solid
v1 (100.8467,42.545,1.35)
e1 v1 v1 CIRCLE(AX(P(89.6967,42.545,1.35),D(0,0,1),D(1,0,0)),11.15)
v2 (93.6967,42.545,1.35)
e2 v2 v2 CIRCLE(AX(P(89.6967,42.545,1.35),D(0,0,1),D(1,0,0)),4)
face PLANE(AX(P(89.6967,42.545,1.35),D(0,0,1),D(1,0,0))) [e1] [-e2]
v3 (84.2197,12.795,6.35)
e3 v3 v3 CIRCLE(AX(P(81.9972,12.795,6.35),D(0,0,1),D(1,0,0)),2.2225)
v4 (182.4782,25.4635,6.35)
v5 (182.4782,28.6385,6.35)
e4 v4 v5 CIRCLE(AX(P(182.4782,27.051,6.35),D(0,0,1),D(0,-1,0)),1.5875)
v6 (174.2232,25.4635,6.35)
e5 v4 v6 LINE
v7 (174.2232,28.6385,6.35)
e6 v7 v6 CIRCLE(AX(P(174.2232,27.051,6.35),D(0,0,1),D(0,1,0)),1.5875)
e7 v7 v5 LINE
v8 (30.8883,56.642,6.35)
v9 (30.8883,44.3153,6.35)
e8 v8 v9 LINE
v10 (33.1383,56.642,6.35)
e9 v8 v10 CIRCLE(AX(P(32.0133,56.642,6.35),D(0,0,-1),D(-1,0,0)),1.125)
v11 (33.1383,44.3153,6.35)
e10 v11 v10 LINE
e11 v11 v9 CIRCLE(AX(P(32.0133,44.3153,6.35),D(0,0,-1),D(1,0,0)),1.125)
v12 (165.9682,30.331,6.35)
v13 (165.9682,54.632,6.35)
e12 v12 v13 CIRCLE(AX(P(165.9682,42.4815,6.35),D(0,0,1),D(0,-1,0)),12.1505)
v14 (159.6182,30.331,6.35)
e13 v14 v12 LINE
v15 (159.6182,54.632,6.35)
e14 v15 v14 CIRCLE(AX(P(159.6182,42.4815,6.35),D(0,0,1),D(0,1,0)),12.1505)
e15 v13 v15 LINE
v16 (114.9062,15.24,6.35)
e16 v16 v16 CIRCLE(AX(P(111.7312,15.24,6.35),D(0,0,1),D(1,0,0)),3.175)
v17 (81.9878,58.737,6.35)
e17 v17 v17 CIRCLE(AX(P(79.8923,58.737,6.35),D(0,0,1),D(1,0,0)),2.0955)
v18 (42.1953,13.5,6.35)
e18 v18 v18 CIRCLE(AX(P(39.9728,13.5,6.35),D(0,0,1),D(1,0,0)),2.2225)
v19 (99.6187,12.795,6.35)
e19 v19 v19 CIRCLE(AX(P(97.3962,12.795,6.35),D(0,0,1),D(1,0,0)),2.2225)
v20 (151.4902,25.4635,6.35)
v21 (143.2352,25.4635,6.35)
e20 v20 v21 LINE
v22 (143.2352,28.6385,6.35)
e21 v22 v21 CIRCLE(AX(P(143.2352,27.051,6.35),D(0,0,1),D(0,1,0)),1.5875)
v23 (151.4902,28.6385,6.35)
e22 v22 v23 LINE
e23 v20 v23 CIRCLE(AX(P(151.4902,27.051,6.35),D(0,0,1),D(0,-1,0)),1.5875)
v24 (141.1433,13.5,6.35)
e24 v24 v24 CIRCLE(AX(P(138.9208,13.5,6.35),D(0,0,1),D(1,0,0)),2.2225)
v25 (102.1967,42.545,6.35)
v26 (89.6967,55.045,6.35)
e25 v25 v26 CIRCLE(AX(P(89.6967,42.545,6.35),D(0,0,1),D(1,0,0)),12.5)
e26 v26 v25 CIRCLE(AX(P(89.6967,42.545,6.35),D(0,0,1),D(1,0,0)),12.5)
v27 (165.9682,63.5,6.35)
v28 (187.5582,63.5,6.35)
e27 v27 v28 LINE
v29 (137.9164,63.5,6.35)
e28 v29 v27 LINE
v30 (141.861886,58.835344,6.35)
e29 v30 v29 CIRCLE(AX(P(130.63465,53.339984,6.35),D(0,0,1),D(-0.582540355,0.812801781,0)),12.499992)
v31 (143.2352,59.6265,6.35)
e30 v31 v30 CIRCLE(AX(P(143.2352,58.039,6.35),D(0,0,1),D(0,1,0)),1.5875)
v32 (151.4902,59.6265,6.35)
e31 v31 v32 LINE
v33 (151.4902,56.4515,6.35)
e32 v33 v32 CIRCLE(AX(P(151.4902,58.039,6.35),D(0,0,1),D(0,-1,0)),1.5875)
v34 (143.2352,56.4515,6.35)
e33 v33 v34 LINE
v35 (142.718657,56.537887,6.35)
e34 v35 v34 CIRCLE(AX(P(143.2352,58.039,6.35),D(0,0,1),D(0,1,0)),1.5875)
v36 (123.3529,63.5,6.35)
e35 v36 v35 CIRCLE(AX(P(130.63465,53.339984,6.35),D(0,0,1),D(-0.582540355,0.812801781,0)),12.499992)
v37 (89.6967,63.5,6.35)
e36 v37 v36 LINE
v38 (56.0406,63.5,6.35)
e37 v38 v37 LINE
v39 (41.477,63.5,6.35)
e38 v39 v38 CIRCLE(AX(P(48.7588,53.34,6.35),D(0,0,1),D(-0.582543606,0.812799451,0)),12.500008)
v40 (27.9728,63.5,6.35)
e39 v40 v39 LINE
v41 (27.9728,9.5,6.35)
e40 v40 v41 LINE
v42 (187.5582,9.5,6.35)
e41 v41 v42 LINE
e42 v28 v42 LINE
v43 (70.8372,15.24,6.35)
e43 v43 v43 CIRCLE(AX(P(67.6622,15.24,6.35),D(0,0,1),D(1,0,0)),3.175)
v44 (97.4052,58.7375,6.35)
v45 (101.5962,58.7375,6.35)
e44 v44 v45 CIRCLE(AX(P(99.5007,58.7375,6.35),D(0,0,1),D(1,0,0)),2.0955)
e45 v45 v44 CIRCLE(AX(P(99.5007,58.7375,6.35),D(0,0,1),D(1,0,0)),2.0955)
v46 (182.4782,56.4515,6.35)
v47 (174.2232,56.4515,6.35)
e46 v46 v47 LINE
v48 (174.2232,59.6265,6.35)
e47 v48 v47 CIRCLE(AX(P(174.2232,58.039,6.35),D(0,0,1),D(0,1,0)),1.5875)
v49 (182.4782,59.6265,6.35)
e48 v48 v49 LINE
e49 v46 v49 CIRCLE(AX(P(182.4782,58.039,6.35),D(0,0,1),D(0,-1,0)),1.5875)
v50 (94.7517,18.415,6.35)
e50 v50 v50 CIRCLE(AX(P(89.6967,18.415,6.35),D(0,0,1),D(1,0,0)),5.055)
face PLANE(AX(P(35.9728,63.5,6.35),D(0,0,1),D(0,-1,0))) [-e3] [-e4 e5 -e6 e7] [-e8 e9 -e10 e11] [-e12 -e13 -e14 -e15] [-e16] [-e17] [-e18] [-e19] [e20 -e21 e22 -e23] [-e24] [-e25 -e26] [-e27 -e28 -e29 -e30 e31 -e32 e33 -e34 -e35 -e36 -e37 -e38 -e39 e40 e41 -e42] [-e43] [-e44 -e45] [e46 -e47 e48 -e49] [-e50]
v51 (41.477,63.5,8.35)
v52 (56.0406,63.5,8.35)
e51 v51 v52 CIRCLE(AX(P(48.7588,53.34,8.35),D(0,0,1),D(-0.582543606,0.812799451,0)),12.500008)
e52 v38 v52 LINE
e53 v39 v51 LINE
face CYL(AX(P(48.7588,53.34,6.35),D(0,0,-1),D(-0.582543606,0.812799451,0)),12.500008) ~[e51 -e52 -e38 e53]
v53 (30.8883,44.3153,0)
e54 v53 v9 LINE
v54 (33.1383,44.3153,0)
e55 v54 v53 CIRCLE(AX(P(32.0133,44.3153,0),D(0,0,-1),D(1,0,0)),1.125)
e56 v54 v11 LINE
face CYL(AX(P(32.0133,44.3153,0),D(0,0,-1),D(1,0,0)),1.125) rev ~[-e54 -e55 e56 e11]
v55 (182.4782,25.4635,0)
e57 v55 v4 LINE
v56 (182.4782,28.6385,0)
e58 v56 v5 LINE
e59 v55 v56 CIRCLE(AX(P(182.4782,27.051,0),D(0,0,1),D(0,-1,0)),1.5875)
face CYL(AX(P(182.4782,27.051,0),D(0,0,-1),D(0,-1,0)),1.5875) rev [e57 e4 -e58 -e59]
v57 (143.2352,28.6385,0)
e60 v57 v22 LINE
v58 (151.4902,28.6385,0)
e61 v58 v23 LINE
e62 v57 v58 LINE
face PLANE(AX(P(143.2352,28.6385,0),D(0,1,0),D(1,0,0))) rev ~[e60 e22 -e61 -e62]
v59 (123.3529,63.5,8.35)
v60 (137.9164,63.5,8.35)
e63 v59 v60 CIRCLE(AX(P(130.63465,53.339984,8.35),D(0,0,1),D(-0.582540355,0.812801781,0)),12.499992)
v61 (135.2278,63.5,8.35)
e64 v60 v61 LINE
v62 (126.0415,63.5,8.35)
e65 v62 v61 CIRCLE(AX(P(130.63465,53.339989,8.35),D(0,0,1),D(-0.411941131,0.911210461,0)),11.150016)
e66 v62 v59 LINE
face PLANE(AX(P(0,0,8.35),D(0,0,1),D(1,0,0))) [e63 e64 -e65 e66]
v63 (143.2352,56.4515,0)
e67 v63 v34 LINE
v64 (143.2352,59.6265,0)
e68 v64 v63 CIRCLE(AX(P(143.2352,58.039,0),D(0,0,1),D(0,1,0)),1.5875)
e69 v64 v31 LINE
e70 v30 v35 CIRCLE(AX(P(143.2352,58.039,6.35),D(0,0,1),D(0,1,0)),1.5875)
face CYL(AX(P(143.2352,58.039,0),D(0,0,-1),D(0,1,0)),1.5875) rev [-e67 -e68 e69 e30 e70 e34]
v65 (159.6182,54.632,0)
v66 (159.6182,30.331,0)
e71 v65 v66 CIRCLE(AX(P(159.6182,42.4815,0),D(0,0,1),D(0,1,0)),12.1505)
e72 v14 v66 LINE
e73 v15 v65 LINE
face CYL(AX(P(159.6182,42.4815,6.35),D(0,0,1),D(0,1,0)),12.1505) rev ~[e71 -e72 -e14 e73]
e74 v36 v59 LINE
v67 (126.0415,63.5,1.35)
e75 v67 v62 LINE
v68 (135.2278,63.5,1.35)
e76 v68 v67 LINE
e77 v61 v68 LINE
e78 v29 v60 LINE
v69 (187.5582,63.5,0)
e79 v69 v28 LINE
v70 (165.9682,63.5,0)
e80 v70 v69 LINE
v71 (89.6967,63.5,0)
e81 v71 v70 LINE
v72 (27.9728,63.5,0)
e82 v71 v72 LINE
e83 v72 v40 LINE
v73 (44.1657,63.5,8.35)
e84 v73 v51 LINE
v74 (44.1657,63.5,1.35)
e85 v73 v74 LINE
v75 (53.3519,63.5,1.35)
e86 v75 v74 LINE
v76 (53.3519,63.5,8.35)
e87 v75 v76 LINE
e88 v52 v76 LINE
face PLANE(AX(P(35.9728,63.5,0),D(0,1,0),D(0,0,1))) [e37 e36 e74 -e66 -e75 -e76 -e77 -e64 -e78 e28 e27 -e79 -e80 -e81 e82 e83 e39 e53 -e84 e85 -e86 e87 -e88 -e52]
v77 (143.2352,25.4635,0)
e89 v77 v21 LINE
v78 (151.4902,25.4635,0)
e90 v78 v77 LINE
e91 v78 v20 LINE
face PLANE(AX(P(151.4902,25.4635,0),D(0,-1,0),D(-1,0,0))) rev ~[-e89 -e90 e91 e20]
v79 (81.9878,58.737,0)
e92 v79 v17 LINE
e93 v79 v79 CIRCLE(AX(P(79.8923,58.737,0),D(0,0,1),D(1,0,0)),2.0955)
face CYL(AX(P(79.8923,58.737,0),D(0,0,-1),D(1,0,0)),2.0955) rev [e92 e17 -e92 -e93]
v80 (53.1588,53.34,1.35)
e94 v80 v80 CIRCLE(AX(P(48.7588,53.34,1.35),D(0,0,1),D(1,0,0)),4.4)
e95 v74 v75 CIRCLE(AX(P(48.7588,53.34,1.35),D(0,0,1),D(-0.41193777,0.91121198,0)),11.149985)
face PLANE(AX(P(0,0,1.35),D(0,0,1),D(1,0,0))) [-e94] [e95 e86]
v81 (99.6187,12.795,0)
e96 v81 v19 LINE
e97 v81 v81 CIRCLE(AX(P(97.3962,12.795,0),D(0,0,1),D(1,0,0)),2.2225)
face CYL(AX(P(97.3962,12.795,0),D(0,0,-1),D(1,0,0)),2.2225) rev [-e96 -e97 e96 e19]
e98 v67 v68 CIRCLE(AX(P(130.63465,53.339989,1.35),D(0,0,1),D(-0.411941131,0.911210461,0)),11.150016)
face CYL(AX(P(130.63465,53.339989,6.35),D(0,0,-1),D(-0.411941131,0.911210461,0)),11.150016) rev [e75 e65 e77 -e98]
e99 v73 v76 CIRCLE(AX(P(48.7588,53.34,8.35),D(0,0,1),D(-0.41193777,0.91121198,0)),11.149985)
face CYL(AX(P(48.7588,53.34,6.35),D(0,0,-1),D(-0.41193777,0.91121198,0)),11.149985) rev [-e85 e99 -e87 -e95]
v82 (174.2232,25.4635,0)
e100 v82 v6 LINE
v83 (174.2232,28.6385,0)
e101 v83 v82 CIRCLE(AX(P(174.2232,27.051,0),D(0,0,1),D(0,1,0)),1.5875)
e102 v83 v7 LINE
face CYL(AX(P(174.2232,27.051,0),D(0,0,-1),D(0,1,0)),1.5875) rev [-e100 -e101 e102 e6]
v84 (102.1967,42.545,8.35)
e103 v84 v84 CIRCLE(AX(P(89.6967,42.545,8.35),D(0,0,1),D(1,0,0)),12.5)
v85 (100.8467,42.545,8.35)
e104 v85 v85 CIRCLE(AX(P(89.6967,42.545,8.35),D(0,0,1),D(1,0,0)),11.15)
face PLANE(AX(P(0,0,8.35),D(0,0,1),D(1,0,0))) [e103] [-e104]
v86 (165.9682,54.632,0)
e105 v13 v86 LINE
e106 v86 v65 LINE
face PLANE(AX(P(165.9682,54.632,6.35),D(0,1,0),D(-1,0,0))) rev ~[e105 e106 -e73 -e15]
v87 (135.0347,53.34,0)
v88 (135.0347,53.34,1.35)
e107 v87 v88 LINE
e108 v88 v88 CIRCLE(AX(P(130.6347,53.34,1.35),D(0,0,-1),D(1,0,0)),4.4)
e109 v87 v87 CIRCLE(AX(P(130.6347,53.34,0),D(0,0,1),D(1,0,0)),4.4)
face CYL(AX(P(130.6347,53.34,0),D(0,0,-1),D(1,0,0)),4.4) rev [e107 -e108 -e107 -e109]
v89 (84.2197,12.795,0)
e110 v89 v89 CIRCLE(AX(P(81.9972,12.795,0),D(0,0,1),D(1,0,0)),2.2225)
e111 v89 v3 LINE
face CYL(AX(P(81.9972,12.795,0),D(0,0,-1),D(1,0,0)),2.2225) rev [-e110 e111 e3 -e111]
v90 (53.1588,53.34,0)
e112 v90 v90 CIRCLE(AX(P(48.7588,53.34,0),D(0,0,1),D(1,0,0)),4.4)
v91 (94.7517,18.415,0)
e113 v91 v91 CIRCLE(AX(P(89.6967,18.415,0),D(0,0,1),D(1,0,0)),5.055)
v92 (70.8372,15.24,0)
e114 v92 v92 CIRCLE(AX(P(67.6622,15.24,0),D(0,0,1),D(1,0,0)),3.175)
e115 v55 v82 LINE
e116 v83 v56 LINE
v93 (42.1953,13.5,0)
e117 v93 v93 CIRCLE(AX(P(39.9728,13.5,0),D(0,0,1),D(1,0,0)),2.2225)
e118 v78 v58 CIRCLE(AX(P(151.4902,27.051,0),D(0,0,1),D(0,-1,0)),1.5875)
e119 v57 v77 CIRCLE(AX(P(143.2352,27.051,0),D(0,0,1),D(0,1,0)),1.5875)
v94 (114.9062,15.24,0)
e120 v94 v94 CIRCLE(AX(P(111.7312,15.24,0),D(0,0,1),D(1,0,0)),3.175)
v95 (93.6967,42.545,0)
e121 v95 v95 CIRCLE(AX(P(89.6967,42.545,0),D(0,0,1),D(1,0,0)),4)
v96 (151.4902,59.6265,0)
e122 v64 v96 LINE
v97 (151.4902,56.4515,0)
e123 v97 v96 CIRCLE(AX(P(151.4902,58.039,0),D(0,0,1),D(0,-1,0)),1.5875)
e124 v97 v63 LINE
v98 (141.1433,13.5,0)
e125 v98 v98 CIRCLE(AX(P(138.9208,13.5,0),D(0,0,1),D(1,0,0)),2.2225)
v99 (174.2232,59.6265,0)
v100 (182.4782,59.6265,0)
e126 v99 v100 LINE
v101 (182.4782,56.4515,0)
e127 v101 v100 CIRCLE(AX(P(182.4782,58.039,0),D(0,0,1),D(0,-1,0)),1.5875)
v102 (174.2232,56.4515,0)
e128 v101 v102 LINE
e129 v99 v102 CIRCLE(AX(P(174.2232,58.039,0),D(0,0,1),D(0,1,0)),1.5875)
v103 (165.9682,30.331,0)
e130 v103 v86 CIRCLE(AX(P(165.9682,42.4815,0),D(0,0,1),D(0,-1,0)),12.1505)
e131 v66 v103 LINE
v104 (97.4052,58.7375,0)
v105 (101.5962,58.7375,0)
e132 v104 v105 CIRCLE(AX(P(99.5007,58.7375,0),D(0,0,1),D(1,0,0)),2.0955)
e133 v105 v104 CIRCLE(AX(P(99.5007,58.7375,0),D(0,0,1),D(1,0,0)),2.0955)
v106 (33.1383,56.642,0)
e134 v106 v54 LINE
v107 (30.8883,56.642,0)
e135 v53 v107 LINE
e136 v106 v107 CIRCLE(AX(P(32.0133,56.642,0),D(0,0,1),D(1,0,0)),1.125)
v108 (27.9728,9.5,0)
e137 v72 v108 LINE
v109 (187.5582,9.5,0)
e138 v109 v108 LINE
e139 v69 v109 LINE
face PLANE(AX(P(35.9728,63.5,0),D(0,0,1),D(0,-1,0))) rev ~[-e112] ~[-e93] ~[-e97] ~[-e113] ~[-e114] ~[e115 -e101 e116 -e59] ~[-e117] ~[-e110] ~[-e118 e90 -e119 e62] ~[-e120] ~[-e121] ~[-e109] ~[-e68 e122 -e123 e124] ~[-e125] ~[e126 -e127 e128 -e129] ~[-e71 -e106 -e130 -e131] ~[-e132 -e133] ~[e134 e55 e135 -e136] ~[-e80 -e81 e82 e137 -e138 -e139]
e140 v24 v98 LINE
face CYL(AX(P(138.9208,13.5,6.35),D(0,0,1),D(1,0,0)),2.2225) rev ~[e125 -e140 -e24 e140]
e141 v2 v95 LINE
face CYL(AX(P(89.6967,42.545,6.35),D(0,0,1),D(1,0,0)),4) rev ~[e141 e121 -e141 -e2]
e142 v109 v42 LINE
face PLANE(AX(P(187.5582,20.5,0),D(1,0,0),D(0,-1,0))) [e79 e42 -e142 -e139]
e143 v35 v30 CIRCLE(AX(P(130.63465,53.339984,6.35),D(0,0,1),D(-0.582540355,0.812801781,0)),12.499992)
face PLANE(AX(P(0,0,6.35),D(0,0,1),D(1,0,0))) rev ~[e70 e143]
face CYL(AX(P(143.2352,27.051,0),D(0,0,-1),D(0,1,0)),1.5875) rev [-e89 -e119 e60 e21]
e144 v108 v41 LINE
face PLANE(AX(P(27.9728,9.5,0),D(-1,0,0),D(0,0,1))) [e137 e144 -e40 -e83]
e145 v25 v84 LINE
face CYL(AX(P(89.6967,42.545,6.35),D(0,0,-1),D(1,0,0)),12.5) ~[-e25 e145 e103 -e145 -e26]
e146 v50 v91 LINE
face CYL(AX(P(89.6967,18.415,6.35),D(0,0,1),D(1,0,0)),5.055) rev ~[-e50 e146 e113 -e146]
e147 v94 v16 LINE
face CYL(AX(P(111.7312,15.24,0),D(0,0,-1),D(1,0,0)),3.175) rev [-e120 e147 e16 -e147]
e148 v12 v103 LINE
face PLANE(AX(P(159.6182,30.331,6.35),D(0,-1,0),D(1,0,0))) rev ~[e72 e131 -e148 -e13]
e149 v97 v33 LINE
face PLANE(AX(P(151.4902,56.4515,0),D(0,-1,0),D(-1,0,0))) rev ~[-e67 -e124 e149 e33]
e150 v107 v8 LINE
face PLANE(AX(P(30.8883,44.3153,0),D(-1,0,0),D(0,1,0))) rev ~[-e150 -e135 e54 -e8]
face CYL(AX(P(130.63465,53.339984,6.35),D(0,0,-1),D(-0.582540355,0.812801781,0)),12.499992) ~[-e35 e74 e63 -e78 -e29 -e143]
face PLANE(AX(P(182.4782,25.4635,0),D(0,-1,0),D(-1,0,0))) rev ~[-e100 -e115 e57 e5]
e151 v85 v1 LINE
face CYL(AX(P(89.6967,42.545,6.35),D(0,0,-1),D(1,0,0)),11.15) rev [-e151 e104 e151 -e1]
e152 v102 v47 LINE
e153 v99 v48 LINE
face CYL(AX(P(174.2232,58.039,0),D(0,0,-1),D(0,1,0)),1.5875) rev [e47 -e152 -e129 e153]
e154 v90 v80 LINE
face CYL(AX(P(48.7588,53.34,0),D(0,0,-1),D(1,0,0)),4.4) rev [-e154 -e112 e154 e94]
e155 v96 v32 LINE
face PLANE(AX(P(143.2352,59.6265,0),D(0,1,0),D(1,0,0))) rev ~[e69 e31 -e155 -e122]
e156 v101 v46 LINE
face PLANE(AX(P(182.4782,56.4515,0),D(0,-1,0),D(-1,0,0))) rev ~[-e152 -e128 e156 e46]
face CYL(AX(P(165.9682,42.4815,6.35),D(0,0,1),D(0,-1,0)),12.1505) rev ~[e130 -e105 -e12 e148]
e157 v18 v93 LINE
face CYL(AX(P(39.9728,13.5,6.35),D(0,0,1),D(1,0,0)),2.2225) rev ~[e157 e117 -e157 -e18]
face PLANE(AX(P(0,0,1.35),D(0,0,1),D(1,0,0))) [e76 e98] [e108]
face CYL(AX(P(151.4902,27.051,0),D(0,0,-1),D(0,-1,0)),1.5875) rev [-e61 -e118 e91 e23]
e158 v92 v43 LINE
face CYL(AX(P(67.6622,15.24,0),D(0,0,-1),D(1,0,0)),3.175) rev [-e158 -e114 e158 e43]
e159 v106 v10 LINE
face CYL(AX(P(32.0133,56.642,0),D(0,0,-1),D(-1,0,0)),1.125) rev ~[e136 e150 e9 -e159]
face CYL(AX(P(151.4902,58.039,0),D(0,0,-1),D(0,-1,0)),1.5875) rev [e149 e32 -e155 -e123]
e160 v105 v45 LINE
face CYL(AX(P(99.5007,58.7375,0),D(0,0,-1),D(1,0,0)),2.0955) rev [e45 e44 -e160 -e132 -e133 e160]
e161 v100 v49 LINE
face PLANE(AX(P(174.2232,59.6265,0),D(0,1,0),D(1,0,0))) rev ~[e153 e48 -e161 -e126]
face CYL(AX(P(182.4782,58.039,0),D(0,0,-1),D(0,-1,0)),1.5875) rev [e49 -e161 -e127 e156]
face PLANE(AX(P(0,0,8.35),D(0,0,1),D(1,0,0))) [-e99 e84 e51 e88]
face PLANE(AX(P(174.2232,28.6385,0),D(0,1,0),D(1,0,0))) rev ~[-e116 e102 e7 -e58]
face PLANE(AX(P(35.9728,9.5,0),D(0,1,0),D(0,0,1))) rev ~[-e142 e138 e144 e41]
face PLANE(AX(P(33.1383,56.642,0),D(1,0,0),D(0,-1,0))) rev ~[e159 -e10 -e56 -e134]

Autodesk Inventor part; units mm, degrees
ref_plane "YZ Plane" through (0, 0, 0) normal (1, 0, 0) x (0, 1, 0)
ref_plane "XZ Plane" through (0, 0, 0) normal (0, 1, 0) x (-1, 0, 0)
ref_plane "XY Plane" through (0, 0, 0) normal (0, 0, 1) x (1, 0, 0)
sketch "Sketch1" plane through (0, 0, 0) normal (0, 0, 1) x (1, 0, 0)
  line L0 (187.5582, 20.5) -> (187.5582, 63.5)
  circle A0 centre (99.5007, 58.7375) radius 2.0955
  line L1 (174.2232, 59.6265) -> (182.4782, 59.6265)
  arc A1 (182.4782, 56.4515) -> (182.4782, 59.6265) centre (182.4782, 58.039) ccw
  line L2 (182.4782, 56.4515) -> (174.2232, 56.4515)
  arc A2 (174.2232, 59.6265) -> (174.2232, 56.4515) centre (174.2232, 58.039) ccw
  line L3 (143.2352, 59.6265) -> (151.4902, 59.6265)
  arc A3 (151.4902, 56.4515) -> (151.4902, 59.6265) centre (151.4902, 58.039) ccw
  line L4 (151.4902, 56.4515) -> (143.2352, 56.4515)
  arc A4 (143.2352, 59.6265) -> (143.2352, 56.4515) centre (143.2352, 58.039) ccw
  circle A5 centre (130.6347, 53.34) radius 4.4
  line L5 (143.2352, 28.6385) -> (151.4902, 28.6385)
  arc A6 (151.4902, 25.4635) -> (151.4902, 28.6385) centre (151.4902, 27.051) ccw
  line L6 (151.4902, 25.4635) -> (143.2352, 25.4635)
  arc A7 (143.2352, 28.6385) -> (143.2352, 25.4635) centre (143.2352, 27.051) ccw
  line L7 (174.2232, 28.6385) -> (182.4782, 28.6385)
  arc A8 (182.4782, 25.4635) -> (182.4782, 28.6385) centre (182.4782, 27.051) ccw
  line L8 (182.4782, 25.4635) -> (174.2232, 25.4635)
  arc A9 (174.2232, 28.6385) -> (174.2232, 25.4635) centre (174.2232, 27.051) ccw
  line L9 (187.5582, 63.5) -> (187.5582, 20.5)
  line L10 (89.6967, 42.545) -> (89.6967, 25.4635)
  circle A10 centre (48.7588, 53.34) radius 4.4
  circle A11 centre (79.8923, 58.737) radius 2.0955
  line L11 (35.9728, 63.5) -> (187.5582, 63.5)
  line L12 (187.5582, 63.5) -> (187.5582, 20.5)
  line L13 (35.9728, 63.5) -> (187.5582, 63.5)
  line L14 (187.5582, 63.5) -> (187.5582, 20.5)
  line L15 (187.5582, 63.5) -> (35.9728, 63.5)
  line L16 (187.5582, 20.5) -> (187.5582, 63.5)
  line L17 (35.9728, 63.5) -> (187.5582, 63.5)
  line L18 (187.5582, 63.5) -> (187.5582, 20.5)
  line L19 (187.5582, 20.5) -> (187.5582, 14.5)
  line L20 (35.9728, 14.5) -> (35.9728, 63.5)
  line L21 (38.7587, 53.34) -> (48.7587, 53.34)
  line L22 (84.6967, 42.545) -> (89.6967, 42.545)
  circle A12 centre (111.7312, 15.24) radius 3.175
  circle A13 centre (97.3962, 12.795) radius 2.2225
  circle A14 centre (81.9972, 12.795) radius 2.2225
  circle A15 centre (67.6622, 15.24) radius 3.175
  circle A16 centre (89.6967, 42.545) radius 4.4
  line L23 (67.6622, 15.24) -> (67.2997, 15.6892)
  line L24 (77.8053, 9.5347) -> (89.6967, 9.5347) construction
  line L25 (111.7312, 15.24) -> (118.0474, 15.24) construction
  line L26 (35.9728, 14.5) -> (35.9728, 9.5)
  line L27 (35.9728, 9.5) -> (187.5582, 9.5)
  line L28 (187.5582, 9.5) -> (187.5582, 14.5)
  circle A17 centre (67.6622, 15.24) radius 3.175
  circle A18 centre (81.9972, 12.795) radius 2.2225
  circle A19 centre (97.3962, 12.795) radius 2.2225
  circle A20 centre (111.7312, 15.24) radius 3.175
  line L29 (165.9682, 54.632) -> (159.6182, 54.632)
  arc A21 (159.6182, 54.632) -> (159.6182, 30.331) centre (159.6182, 42.4815) ccw
  line L30 (159.6182, 30.331) -> (165.9682, 30.331)
  arc A22 (165.9682, 30.331) -> (165.9682, 54.632) centre (165.9682, 42.4815) ccw
  line L31 (80.9972, 12.795) -> (81.9972, 12.795)
  line L32 (98.3962, 12.795) -> (97.3962, 12.795)
  line L33 (76.0442, 58.7375) -> (78.0442, 58.7375)
  line L34 (103.3492, 58.7375) -> (101.3492, 58.7375)
  line L35 (89.6967, 42.545) -> (89.6967, 65.1685)
  line L36 (101.3492, 58.7375) -> (89.6967, 58.7375)
  line L37 (89.6967, 58.7375) -> (79.8923, 58.7375)
  line L38 (165.9682, 42.4815) -> (165.9682, 63.5)
  line L39 (165.9682, 63.5) -> (187.5582, 63.5)
  point P0 (0, 0)
  point P1 (85.6114, 40.9109)
  point P2 (85.5414, 41.0981)
  point P3 (85.3648, 41.7735)
  point P4 (85.4268, 41.4827)
  point P5 (85.6337, 40.856)
  point P6 (85.6114, 44.1791)
  dimension "d4" = 8.8
  dimension "d55" = 10.16
  dimension "d56" = 10.16
  dimension "d57" = 4.7625
  dimension "d58" = 4.763
  dimension "d59" = 20.955
  dimension "d62" = 3.8735
  dimension "d63" = 27.813
  dimension "d66" = 3.8735
  dimension "d67" = 27.813
  dimension "d69" = 10
  dimension "d70" = 5
  dimension "d76" = 8.8
  dimension "d100" = 4.191
  dimension "d101" = 8.8
  dimension "d102" = 1
  dimension "d103" = 1
  dimension "d104" = 2
  dimension "d105" = 2
  dimension "d114" = 9.804
  dimension "d115" = 9.8044
  dimension "d120" = 9.8044
ref_plane "Work Plane6" through (0, 0, 6.35) normal (0, 0, 1) x (1, 0, 0)
extrude "Extrusion18" add sketch "Sketch1" along normal blind 6.35 contours A22 L30 A21 L29 | A16 L10 L35 | L35 L22 A16 | L19 L28 L27 L26 L20 L11 L0 | L22 L10 A16
ref_plane "Work Plane11" through (0, 0, 6.35) normal (0, 0, 1) x (1, 0, 0)
sketch "Sketch9" plane through (0, 0, 6.35) normal (0, 0, 1) x (1, 0, 0)
  circle A0 centre (48.7588, 53.34) radius 4 projected
  line L0 (187.5582, 63.5) -> (25.9728, 63.5) projected
  arc A1 (44.1657, 63.5) -> (53.3519, 63.5) centre (48.7588, 53.34) ccw
  arc A2 (41.477, 63.5) -> (56.0406, 63.5) centre (48.7588, 53.34) ccw
  point P0 (0, 0)
  dimension "d32" = 22.3
  dimension "d33" = 25
extrude "Extrusion10" add sketch "Sketch9" along normal blind 2 contours A2 L0 A1
ref_plane "Work Plane10" through (0, 0, 6.35) normal (0, 0, 1) x (1, 0, 0)
ref_plane "Work Plane9" through (0, 0, 6.35) normal (0, 0, 1) x (1, 0, 0)
sketch "Sketch11" plane through (0, 0, 6.35) normal (0, 0, 1) x (1, 0, 0)
  circle A0 centre (89.6967, 42.545) radius 4 projected
  circle A1 centre (89.6967, 42.545) radius 11.15
  circle A2 centre (89.6967, 42.545) radius 12.5
  point P0 (0, 0)
  dimension "d40" = 22.3
  dimension "d41" = 25
extrude "Extrusion12" add sketch "Sketch11" along normal blind 2 contours A2
ref_plane "Work Plane7" through (0, 0, 6.35) normal (0, 0, 1) x (1, 0, 0)
ref_plane "Work Plane8" through (0, 0, 6.35) normal (0, 0, 1) x (1, 0, 0)
ref_plane "Work Plane12" through (89.6967, 42.545, 6.35) normal (0, 0, 1) x (1, 0, 0)
sketch "Sketch15" plane through (89.6967, 42.545, 6.35) normal (0, 0, 1) x (1, 0, 0)
  circle A0 centre (0, 0) radius 11.15 projected
  circle A1 centre (0, 0) radius 4 projected
  point P0 (-89.6967, -42.545)
sketch "Sketch17" plane through (0, 0, 6.35) normal (0, 0, 1) x (1, 0, 0)
  arc A0 (44.1657, 63.5) -> (53.3519, 63.5) centre (48.7588, 53.34) ccw projected
  line L0 (53.3519, 63.5) -> (44.1657, 63.5) projected
  circle A1 centre (48.7588, 53.34) radius 4.4 projected
  point P0 (0, 0)
extrude "Extrusion22" cut sketch "Sketch17" against normal blind 5
sketch "Sketch10" plane through (0, 0, 6.35) normal (0, 0, 1) x (1, 0, 0)
  line L0 (52.9748, 63.5) -> (56.0406, 63.5) projected
  circle A0 centre (130.6347, 53.34) radius 4 projected
  arc A1 (126.0415, 63.5) -> (135.2278, 63.5) centre (130.6347, 53.34) ccw
  arc A2 (123.3529, 63.5) -> (137.9164, 63.5) centre (130.6347, 53.34) ccw
  line L1 (187.5582, 63.5) -> (56.0406, 63.5) projected
  line L2 (123.3529, 63.5) -> (126.0415, 63.5)
  line L3 (135.2278, 63.5) -> (137.9164, 63.5)
  arc A3 (126.0415, 63.5) -> (135.2278, 63.5) centre (130.6347, 53.34) ccw
  arc A4 (123.3529, 63.5) -> (137.9164, 63.5) centre (130.6347, 53.34) ccw
  line L4 (123.3529, 63.5) -> (137.9164, 63.5)
  point P0 (0, 0)
  dimension "d82" = 11.15
extrude "Extrusion26" cut sketch "Sketch10" against normal blind 5 contours L1 A1
sketch "Sketch21" plane through (0, 0, 6.35) normal (0, 0, 1) x (1, 0, 0)
  arc A0 (126.0415, 63.5) -> (135.2278, 63.5) centre (130.6347, 53.34) ccw projected
  line L0 (126.0415, 63.5) -> (56.0406, 63.5) projected
  line L1 (187.5582, 63.5) -> (135.2278, 63.5) projected
  arc A1 (123.3529, 63.5) -> (137.9164, 63.5) centre (130.6347, 53.34) ccw
  line L2 (123.3529, 63.5) -> (126.0415, 63.5)
  line L3 (135.2278, 63.5) -> (137.9164, 63.5)
  point P0 (0, 0)
  dimension "d97" = 25
extrude "Extrusion27" add sketch "Sketch21" along normal blind 2
sketch "Sketch22" plane through (0, 0, 6.35) normal (0, 0, 1) x (1, 0, 0)
  line L0 (35.9728, 63.5) -> (35.9728, 9.5) projected
  line L1 (35.9728, 9.5) -> (187.5582, 9.5) projected
  circle A0 centre (39.9728, 13.5) radius 2.2225
  point P0 (0, 0)
  dimension "d106" = 4
  dimension "d107" = 4
extrude "Extrusion28" cut sketch "Sketch22" against normal through all
sketch "Sketch23" plane through (0, 0, 6.35) normal (0, 0, 1) x (1, 0, 0)
  circle A0 centre (39.9728, 13.5) radius 2.2225 projected
  line L0 (35.9728, 9.5) -> (187.5582, 9.5) projected
  circle A1 centre (138.9208, 13.5) radius 2.2225
  point P0 (0, 0)
  dimension "d110" = 4
  dimension "d111" = 98.948
extrude "Extrusion29" cut sketch "Sketch23" against normal through all contours A1
extrude "Extrusion30" cut sketch "Sketch15" against normal blind 5
sketch "Sketch24" plane through (89.6967, 42.545, 6.35) normal (0, 0, 1) x (1, 0, 0)
  circle A0 centre (0, 0) radius 4 projected
  point P0 (-89.6967, -42.545)
extrude "Extrusion31" cut sketch "Sketch24" against normal through all
sketch "Sketch25" plane through (0, 0, 6.35) normal (0, 0, 1) x (1, 0, 0)
  line L0 (165.9682, 54.632) -> (159.6182, 54.632)
  arc A0 (159.6182, 54.632) -> (159.6182, 30.331) centre (159.6182, 42.4815) ccw
  line L1 (159.6182, 30.331) -> (165.9682, 30.331)
  arc A1 (165.9682, 30.331) -> (165.9682, 54.632) centre (165.9682, 42.4815) ccw
  line L2 (165.9682, 42.4815) -> (165.9682, 63.5)
  line L3 (165.9682, 63.5) -> (187.5582, 63.5)
  point P0 (0, 0)
extrude "Extrusion32" cut sketch "Sketch25" against normal through all
sketch "Sketch26" plane through (0, 0, 6.35) normal (0, 0, 1) x (1, 0, 0)
  line L0 (35.9728, 9.5) -> (187.5582, 9.5) projected
  circle A0 centre (89.6967, 18.415) radius 5.055
  point P0 (0, 0)
  dimension "d123" = 10.11
  dimension "d124" = 8.915
extrude "Extrusion33" cut sketch "Sketch26" against normal blind 10
sketch "Sketch27" plane through (35.9728, 9.5, 0) normal (-1, 0, 0) x (0, 0, 1)
  line L0 (0, 54) -> (0, 0) projected
  line L1 (0, 0) -> (6.35, 0) projected
  line L2 (6.35, 54) -> (6.35, 0) projected
  line L3 (0, 54) -> (6.35, 54) projected
  point P0 (0, -9.5)
extrude "Extrusion34" add sketch "Sketch27" along normal blind 8
sketch "Sketch28" plane through (0, 0, 0) normal (0, 0, -1) x (-1, 0, 0)
  line L0 (-187.5582, 63.5) -> (-27.9728, 63.5) projected
  line L1 (-27.9728, 63.5) -> (-27.9728, 9.5) projected
  line L2 (-32.0133, 63.5) -> (-32.0133, 34.361)
  line L3 (-32.0133, 56.642) -> (-32.0133, 44.3153) construction
  line L4 (-33.1383, 56.642) -> (-33.1383, 44.3153)
  line L5 (-30.8883, 44.3153) -> (-30.8883, 56.642)
  arc A0 (-30.8883, 56.642) -> (-33.1383, 56.642) centre (-32.0133, 56.642) ccw
  arc A1 (-33.1383, 44.3153) -> (-30.8883, 44.3153) centre (-32.0133, 44.3153) ccw
  point P0 (0, 0)
  point P1 (-32.0133, 50.4786)
  dimension "d129" = 2.25
  dimension "d132" = 6.858
  dimension "d133" = 4.0405
extrude "Extrusion35" cut sketch "Sketch28" against normal blind 8
properties part number "double-left2.0"
